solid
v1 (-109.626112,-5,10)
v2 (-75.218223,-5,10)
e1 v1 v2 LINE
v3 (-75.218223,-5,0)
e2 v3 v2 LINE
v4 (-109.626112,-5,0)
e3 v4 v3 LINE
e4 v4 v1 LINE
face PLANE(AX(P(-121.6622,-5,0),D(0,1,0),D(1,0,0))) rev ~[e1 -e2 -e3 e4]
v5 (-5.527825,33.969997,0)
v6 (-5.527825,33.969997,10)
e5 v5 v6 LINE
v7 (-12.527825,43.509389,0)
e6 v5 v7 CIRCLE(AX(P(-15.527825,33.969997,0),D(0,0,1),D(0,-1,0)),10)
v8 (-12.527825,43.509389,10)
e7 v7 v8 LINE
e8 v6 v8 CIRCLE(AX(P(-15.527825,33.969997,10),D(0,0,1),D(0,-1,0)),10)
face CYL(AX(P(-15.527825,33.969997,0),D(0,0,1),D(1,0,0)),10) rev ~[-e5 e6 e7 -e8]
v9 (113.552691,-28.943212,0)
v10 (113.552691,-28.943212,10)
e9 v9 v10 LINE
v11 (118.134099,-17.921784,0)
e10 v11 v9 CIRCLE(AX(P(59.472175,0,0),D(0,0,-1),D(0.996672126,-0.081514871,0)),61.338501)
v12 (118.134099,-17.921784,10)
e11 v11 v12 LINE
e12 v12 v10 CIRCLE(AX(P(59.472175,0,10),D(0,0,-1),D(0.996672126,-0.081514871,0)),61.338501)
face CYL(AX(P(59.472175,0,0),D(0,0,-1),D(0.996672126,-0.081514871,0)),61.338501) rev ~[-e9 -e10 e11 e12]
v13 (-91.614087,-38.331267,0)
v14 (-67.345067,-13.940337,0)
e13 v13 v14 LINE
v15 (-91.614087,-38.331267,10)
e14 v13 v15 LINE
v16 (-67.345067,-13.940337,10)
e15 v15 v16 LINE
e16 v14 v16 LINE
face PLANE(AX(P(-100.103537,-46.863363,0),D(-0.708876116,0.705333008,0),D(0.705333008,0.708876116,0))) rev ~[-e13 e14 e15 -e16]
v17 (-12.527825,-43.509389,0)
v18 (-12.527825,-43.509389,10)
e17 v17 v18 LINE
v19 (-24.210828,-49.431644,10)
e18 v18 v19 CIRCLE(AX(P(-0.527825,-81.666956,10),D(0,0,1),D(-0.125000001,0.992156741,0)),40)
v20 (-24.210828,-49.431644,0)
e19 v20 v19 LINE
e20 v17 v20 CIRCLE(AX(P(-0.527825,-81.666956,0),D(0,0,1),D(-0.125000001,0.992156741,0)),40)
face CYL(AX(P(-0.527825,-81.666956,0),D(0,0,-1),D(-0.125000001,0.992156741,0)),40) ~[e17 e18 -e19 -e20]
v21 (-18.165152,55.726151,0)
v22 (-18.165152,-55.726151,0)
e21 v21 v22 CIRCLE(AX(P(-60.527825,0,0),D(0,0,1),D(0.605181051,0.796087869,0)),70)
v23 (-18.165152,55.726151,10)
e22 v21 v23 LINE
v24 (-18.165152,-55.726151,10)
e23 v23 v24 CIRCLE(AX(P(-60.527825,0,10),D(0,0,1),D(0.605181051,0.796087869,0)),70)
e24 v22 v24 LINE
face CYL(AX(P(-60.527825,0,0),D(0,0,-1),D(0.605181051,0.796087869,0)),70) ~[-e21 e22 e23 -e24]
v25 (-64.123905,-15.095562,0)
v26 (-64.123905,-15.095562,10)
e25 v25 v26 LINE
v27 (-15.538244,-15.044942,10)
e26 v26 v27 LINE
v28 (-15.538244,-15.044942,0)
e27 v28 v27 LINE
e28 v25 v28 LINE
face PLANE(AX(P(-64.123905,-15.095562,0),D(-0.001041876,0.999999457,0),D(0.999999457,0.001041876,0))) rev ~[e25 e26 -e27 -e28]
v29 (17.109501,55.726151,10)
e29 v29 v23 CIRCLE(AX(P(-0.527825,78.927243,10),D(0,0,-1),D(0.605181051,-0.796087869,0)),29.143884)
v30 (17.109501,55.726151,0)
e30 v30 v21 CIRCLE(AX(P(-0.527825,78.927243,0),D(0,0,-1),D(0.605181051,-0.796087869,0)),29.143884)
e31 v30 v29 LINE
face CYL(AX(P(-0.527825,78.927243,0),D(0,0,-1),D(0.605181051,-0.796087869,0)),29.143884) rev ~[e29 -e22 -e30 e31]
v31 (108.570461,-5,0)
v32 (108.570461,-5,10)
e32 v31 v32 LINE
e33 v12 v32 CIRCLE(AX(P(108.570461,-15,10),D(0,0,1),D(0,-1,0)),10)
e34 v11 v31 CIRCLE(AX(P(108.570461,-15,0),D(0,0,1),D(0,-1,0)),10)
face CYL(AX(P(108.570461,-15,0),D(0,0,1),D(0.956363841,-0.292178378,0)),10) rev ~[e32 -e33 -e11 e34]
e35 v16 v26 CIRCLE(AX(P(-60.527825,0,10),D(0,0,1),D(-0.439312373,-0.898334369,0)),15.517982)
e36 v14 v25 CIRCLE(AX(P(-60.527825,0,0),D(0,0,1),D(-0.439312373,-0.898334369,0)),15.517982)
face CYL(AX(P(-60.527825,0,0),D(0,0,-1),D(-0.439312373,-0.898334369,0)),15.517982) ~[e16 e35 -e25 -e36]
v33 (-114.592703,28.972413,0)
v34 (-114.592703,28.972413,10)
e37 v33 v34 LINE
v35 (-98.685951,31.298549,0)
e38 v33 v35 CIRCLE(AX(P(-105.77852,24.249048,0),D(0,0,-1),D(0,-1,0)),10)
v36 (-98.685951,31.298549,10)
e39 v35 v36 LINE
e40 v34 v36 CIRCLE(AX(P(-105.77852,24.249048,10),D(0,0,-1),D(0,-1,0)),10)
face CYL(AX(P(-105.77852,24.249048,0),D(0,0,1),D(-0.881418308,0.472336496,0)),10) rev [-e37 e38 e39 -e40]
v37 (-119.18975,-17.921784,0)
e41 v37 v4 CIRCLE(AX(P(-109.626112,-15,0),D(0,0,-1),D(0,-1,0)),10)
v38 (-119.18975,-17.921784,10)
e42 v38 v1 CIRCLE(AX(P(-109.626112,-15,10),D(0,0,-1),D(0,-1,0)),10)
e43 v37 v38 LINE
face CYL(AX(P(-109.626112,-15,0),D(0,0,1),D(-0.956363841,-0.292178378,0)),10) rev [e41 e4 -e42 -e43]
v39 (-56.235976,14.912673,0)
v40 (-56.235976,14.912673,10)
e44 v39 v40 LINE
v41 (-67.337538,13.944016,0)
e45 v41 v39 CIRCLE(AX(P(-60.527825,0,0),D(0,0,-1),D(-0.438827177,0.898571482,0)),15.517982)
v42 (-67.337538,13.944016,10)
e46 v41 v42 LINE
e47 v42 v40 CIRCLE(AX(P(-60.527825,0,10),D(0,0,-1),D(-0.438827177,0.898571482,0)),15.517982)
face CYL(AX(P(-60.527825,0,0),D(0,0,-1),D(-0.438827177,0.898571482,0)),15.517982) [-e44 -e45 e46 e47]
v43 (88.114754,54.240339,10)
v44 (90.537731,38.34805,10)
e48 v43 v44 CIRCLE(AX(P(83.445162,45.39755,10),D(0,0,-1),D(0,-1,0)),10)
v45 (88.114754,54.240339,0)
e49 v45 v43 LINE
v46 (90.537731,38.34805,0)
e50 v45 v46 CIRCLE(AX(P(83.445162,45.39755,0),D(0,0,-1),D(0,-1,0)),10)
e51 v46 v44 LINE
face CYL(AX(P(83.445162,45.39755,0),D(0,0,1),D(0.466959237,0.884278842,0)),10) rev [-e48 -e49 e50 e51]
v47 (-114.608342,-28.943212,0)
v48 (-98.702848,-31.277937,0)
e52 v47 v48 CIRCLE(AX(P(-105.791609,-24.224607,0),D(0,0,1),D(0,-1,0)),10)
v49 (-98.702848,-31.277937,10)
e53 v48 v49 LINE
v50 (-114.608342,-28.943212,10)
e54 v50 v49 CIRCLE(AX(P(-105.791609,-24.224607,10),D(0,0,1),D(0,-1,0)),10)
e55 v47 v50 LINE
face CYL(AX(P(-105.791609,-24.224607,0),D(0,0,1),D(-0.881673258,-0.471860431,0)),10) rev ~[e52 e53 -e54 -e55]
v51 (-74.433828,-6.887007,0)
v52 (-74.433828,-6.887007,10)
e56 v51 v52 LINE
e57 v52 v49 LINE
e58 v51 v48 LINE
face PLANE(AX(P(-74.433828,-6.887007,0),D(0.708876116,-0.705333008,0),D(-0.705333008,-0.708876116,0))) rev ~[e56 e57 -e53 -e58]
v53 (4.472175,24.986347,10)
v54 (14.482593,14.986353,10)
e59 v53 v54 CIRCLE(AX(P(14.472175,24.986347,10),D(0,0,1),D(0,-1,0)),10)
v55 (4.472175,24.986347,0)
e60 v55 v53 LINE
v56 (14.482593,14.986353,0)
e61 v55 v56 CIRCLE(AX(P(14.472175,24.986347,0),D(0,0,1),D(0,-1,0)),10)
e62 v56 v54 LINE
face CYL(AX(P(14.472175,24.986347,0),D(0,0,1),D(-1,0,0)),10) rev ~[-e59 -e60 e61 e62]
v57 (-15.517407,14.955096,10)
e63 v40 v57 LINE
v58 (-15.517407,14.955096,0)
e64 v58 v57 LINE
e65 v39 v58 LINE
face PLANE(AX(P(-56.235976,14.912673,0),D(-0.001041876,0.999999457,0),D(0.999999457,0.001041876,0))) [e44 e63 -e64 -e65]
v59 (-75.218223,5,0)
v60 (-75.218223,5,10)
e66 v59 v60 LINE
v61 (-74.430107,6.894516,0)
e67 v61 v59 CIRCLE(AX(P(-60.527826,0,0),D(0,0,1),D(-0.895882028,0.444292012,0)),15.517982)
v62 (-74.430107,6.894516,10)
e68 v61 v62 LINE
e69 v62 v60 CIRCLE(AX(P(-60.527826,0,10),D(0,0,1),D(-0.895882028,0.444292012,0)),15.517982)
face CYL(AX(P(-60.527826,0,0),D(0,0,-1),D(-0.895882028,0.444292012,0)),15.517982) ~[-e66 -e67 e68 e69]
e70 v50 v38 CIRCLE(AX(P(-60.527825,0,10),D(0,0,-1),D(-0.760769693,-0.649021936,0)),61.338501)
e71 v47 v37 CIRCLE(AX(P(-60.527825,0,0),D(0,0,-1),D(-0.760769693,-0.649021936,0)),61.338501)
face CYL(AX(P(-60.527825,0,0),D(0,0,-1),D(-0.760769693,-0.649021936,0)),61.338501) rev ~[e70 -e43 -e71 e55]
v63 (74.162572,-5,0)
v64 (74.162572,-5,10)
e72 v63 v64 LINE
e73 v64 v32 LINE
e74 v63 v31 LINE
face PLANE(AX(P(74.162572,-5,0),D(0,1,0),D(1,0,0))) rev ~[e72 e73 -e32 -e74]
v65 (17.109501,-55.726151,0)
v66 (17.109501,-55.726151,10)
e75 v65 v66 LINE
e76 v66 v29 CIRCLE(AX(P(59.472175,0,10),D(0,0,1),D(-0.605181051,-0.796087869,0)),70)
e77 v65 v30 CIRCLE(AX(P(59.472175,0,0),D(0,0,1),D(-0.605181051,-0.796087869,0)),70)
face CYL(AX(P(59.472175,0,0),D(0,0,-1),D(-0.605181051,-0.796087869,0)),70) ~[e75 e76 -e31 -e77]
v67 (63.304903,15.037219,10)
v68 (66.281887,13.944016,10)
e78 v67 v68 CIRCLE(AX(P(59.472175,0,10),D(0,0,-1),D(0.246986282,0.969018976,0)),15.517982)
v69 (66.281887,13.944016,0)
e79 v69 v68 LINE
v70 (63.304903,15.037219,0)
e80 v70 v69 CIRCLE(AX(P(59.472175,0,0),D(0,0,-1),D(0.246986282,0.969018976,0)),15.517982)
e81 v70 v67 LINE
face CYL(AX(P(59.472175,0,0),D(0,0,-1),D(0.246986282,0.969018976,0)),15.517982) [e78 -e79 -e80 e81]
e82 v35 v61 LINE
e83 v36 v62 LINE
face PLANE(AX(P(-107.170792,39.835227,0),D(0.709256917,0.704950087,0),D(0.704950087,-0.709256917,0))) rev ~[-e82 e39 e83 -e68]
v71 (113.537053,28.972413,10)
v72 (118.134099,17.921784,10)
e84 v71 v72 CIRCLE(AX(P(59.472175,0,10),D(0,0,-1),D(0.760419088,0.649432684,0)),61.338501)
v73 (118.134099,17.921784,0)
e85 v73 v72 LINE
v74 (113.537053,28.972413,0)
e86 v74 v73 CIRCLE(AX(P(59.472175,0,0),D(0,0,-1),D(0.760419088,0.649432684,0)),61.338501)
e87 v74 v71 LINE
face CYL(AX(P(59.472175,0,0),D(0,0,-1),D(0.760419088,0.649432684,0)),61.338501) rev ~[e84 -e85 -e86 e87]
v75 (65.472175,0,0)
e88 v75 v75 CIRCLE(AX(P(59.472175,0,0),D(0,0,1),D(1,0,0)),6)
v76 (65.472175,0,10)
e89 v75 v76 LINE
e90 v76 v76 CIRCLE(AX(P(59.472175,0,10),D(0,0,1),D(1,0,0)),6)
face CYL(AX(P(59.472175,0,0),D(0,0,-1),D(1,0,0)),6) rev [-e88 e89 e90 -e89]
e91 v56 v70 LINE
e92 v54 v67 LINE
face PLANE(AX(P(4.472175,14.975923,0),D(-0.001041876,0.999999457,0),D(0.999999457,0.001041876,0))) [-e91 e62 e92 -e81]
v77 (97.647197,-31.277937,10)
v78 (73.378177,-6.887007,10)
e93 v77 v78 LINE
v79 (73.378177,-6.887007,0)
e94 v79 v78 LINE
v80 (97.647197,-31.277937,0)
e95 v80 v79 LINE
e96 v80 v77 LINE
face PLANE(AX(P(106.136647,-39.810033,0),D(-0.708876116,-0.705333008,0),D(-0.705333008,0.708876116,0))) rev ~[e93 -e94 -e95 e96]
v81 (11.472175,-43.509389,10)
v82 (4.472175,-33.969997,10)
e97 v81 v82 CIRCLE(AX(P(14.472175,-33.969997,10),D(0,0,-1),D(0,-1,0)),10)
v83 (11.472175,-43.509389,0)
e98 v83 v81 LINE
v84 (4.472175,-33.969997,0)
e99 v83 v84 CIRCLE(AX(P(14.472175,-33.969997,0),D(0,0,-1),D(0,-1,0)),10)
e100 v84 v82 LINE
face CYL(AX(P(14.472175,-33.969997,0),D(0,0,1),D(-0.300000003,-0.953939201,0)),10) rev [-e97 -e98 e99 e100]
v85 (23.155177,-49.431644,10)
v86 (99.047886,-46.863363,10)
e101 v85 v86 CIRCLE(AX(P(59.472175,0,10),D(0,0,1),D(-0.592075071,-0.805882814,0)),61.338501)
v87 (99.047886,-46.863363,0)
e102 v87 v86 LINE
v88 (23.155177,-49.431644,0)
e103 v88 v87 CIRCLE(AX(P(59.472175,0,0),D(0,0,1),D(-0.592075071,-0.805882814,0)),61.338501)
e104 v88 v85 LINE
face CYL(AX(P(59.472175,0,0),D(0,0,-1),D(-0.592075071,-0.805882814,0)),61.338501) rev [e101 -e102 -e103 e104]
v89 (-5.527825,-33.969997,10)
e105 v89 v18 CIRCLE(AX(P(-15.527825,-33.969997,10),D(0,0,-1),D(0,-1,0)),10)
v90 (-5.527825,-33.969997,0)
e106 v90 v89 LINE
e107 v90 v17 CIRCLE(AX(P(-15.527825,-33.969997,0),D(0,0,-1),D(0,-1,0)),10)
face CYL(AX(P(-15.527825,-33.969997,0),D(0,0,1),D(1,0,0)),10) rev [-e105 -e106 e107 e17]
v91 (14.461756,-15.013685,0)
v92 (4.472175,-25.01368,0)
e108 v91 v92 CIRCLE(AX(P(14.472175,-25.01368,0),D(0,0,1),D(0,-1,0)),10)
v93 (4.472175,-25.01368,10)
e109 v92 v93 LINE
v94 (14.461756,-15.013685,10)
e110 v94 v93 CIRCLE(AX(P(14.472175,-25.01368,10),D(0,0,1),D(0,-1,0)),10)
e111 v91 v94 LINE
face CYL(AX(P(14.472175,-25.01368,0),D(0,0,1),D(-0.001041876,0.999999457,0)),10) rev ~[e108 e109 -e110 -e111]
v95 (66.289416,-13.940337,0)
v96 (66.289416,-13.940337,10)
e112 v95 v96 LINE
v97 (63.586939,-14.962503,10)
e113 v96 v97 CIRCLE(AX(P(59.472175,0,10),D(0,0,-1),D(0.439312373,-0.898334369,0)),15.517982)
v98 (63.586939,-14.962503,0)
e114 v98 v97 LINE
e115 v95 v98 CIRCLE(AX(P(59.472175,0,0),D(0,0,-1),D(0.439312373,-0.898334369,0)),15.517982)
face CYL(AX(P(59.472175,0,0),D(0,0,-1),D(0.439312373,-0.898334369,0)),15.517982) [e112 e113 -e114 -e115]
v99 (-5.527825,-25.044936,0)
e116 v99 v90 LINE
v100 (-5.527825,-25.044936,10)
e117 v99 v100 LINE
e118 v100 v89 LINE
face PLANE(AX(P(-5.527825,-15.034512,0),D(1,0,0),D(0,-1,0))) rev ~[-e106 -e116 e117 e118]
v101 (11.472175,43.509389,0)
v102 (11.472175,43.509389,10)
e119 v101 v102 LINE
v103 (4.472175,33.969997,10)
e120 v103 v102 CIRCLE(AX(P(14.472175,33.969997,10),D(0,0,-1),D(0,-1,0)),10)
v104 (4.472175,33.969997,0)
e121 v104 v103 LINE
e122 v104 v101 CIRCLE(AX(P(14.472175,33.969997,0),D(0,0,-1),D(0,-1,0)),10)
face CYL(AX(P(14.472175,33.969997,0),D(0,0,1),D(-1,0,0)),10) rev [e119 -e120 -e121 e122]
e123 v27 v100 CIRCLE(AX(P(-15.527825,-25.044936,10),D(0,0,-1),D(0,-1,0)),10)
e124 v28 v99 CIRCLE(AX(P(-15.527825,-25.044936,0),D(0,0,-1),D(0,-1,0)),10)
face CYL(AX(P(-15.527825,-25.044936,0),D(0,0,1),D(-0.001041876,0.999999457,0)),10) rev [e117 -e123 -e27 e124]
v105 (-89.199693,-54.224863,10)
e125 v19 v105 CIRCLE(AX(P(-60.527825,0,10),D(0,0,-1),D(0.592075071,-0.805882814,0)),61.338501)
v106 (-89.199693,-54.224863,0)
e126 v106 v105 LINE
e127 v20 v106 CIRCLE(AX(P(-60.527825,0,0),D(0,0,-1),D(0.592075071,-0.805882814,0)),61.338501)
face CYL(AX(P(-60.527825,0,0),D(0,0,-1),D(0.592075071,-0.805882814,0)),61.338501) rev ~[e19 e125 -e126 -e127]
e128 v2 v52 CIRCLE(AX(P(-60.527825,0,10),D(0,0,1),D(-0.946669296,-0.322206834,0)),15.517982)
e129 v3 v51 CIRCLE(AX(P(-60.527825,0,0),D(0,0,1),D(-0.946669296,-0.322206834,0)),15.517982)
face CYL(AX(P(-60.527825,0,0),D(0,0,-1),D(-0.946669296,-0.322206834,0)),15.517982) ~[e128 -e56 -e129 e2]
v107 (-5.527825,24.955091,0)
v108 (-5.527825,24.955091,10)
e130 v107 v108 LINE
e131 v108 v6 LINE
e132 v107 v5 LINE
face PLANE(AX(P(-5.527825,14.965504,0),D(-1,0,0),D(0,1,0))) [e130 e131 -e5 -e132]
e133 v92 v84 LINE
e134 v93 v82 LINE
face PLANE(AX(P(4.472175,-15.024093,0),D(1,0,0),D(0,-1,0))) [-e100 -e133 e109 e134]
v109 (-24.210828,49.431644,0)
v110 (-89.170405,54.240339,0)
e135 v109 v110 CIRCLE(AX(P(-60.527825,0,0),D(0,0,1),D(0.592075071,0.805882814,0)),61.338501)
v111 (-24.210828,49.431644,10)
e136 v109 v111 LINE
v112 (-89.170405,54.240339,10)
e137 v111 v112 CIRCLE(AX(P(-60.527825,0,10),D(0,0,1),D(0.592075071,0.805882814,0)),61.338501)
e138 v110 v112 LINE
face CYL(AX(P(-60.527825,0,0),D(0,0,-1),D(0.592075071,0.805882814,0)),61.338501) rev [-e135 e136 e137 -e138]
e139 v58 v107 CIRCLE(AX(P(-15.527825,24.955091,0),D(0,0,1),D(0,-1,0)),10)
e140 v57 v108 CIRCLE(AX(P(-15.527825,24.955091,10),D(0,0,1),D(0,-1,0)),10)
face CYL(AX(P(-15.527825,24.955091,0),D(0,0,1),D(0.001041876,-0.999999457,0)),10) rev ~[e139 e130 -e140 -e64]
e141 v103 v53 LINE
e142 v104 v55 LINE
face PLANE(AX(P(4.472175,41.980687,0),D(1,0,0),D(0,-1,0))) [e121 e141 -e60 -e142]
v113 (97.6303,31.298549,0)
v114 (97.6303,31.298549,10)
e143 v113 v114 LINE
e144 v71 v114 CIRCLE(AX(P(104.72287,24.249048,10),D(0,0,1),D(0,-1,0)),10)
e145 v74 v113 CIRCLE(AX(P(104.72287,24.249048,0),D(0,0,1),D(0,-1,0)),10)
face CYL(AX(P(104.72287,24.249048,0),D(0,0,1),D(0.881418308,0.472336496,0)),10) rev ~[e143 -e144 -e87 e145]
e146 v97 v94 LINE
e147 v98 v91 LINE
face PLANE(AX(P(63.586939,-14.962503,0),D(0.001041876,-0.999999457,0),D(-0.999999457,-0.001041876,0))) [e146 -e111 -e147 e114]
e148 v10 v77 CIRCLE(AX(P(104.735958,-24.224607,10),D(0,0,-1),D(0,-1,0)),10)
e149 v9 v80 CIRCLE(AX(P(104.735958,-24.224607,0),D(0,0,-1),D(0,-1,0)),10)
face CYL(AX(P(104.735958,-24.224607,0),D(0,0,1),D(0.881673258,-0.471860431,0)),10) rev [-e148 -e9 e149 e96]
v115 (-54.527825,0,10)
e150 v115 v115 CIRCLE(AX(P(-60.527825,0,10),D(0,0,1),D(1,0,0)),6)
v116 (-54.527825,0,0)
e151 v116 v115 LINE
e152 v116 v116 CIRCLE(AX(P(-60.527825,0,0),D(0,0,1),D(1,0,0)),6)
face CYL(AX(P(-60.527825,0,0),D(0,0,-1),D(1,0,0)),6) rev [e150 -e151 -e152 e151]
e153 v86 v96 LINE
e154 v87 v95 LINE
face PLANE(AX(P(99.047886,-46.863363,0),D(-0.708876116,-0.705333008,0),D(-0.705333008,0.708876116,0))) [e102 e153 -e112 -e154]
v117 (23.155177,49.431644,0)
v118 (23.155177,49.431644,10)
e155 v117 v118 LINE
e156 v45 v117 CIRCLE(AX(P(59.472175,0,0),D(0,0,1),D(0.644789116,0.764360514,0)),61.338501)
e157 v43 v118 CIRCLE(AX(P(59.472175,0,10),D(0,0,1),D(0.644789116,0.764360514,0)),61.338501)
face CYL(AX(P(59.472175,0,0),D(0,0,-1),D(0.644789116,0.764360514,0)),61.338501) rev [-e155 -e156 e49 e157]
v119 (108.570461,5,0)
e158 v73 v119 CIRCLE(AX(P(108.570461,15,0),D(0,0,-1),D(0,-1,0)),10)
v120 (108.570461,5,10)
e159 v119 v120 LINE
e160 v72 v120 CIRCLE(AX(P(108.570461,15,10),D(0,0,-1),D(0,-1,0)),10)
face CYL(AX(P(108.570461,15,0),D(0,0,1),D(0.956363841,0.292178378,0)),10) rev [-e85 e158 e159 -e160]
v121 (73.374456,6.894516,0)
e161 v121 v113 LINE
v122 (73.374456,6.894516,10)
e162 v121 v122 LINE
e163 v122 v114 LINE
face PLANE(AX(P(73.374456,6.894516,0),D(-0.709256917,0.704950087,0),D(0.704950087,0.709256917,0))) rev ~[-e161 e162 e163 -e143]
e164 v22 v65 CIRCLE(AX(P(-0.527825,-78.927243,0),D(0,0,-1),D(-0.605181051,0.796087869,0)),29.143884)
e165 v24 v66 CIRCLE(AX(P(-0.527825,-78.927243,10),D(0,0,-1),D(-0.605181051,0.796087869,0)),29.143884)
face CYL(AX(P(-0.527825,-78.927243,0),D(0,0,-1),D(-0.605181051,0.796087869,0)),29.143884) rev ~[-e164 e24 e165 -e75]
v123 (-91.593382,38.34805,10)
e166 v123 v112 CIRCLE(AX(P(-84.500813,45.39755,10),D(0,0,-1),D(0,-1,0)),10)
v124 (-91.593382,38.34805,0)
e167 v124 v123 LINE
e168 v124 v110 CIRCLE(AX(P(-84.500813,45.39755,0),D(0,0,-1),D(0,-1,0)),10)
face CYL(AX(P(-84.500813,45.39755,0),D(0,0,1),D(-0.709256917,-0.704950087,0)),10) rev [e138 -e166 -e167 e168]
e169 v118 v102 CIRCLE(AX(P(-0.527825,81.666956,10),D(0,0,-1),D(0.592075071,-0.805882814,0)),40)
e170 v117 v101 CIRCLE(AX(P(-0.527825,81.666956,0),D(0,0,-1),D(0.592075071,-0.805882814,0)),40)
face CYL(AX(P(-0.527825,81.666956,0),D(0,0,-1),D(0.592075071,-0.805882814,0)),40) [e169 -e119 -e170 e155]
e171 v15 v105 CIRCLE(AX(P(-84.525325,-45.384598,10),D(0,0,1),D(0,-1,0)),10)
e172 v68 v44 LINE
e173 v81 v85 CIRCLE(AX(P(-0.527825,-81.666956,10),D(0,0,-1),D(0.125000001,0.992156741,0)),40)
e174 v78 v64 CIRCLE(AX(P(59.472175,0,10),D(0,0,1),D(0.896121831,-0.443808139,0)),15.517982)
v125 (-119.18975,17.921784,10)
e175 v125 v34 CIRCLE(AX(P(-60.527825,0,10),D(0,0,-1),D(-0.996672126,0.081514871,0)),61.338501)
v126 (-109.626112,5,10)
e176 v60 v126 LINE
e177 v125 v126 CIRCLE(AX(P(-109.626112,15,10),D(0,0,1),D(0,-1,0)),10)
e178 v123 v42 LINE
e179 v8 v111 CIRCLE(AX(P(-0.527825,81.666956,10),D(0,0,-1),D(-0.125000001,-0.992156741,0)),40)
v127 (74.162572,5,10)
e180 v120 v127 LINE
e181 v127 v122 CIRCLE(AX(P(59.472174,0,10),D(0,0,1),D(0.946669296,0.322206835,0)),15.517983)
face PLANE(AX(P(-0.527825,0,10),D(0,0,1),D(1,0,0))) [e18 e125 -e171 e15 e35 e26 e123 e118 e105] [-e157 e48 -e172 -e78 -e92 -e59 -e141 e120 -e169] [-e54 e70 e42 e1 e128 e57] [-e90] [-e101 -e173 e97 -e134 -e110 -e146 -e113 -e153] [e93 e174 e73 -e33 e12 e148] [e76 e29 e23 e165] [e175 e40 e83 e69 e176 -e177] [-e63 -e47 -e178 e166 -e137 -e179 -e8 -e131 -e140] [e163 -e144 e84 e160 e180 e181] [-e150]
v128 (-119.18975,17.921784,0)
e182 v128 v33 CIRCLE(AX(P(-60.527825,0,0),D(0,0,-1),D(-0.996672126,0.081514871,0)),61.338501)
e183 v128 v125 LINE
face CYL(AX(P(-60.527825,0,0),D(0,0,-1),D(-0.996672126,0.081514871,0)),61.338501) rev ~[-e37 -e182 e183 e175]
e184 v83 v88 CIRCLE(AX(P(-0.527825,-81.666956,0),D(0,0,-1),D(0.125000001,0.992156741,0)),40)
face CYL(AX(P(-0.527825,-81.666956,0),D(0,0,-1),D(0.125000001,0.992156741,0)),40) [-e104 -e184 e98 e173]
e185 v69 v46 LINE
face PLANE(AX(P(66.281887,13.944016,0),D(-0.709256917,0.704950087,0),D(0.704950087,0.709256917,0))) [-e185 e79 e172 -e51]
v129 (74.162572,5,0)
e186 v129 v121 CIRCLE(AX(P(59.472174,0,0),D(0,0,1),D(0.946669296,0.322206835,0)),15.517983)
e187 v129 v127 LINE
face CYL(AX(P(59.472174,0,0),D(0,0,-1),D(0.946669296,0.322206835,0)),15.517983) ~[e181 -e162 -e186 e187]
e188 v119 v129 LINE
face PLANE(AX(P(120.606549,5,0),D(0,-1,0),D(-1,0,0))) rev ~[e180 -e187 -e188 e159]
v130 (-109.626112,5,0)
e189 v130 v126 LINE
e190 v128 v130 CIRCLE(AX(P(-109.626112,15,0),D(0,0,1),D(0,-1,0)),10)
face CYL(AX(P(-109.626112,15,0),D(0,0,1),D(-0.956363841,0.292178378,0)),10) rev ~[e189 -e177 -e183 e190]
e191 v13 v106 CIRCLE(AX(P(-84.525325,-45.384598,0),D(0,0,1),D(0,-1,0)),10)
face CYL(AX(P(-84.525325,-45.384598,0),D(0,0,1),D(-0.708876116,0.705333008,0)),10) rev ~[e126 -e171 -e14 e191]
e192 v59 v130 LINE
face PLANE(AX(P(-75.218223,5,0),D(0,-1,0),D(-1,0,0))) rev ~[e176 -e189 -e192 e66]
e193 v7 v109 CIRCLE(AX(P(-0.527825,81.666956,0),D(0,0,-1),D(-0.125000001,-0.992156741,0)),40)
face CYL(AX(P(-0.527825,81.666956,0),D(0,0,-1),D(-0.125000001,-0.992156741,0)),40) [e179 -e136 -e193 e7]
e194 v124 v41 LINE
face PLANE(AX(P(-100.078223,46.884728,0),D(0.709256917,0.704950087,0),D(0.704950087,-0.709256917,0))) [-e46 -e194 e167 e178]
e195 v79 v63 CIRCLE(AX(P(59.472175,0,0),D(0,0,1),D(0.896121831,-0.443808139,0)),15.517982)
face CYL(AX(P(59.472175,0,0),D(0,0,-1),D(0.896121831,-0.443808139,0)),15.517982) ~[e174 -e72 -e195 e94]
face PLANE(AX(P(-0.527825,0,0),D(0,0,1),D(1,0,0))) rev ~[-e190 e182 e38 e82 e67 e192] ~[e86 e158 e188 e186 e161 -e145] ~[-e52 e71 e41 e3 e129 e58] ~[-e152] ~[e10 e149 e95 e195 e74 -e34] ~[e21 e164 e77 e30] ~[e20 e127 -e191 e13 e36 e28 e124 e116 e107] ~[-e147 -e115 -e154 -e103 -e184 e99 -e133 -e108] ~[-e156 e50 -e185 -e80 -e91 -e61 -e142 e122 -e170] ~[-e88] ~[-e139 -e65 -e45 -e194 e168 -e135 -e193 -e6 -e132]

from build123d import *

# Parameters (mm, degrees)
SKETCH1_R           = 6
BOSS_EXTRUDE2_DEPTH = 10
FILLET2_R           = 10


with BuildPart() as part:
    # Sketch1 → Boss-Extrude2 (new body)
    with BuildSketch(Plane.XY):
        with BuildLine():
            ThreePointArc((-18.165151778, 55.726150839), (-130.527825355, 0), (-18.165151778, -55.726150839))
            ThreePointArc((-18.165151778, -55.726150839), (-0.527825355, -49.783359328), (17.109501067, -55.726150839))
            ThreePointArc((17.109501067, -55.726150839), (129.472174645, 0), (17.109501067, 55.726150839))
            ThreePointArc((17.109501067, 55.726150839), (-0.527825355, 49.783359328), (-18.165151778, 55.726150839))
        make_face()
        with Locations((-60.527825355, 0)):
            Circle(SKETCH1_R, mode=Mode.SUBTRACT)
        with Locations((59.472174645, 0)):
            Circle(SKETCH1_R, mode=Mode.SUBTRACT)
        with BuildLine():
            Line((-56.235975609, 14.912672635), (-5.527825355, 14.965504266))
            Line((-5.527825355, 14.965504266), (-5.527825355, 41.980686961))
            ThreePointArc((-5.527825355, 41.980686961), (-15.345309937, 44.512654742), (-24.210827936, 49.431643964))
            ThreePointArc((-24.210827936, 49.431643964), (-62.58583764, 61.303966527), (-100.078223296, 46.884728315))
            Line((-100.078223296, 46.884728315), (-67.337537784, 13.944016494))
            ThreePointArc((-67.337537784, 13.944016494), (-61.876707041, 15.459246345), (-56.235975609, 14.912672635))
        make_face(mode=Mode.SUBTRACT)
        with BuildLine():
            Line((-64.123905218, -15.095561897), (-5.527825355, -15.034512017))
            Line((-5.527825355, -15.034512017), (-5.527825355, -41.980686961))
            ThreePointArc((-5.527825355, -41.980686961), (-15.345309937, -44.512654742), (-24.210827936, -49.431643964))
            ThreePointArc((-24.210827936, -49.431643964), (-62.602390706, -61.303408593), (-100.103536918, -46.863362884))
            Line((-100.103536918, -46.863362884), (-67.345067046, -13.940336979))
            ThreePointArc((-67.345067046, -13.940336979), (-65.766427516, -14.607012931), (-64.123905218, -15.095561897))
        make_face(mode=Mode.SUBTRACT)
        with BuildLine():
            Line((-107.170792468, 39.835227443), (-74.430106955, 6.894515622))
            ThreePointArc((-74.430106955, 6.894515622), (-74.855512615, 5.960298411), (-75.218222877, 5))
            Line((-75.218222877, 5), (-121.6621997, 5))
            ThreePointArc((-121.6621997, 5), (-117.161402857, 23.559491206), (-107.170792468, 39.835227443))
        make_face(mode=Mode.SUBTRACT)
        with BuildLine():
            Line((-121.6621997, -5), (-75.218222877, -5))
            ThreePointArc((-75.218222877, -5), (-74.857121477, -5.956429468), (-74.433828207, -6.887006899))
            Line((-74.433828207, -6.887006899), (-107.192298079, -39.810032805))
            ThreePointArc((-107.192298079, -39.810032805), (-117.167762266, -23.544198292), (-121.6621997, -5))
        make_face(mode=Mode.SUBTRACT)
        with BuildLine():
            Line((4.472174645, 41.980686961), (4.472174645, 14.975923031))
            Line((4.472174645, 14.975923031), (63.304903434, 15.03721947))
            ThreePointArc((63.304903434, 15.03721947), (64.821395332, 14.56686711), (66.281887074, 13.944016494))
            Line((66.281887074, 13.944016494), (99.022572586, 46.884728315))
            ThreePointArc((99.022572586, 46.884728315), (61.530186929, 61.303966527), (23.155177226, 49.431643964))
            ThreePointArc((23.155177226, 49.431643964), (14.289659226, 44.512654742), (4.472174645, 41.980686961))
        make_face(mode=Mode.SUBTRACT)
        with BuildLine():
            Line((99.047886208, -46.863362884), (66.289416336, -13.940336979))
            ThreePointArc((66.289416336, -13.940336979), (64.962019266, -14.514454361), (63.586938832, -14.962502967))
            Line((63.586938832, -14.962502967), (4.472174645, -15.024093252))
            Line((4.472174645, -15.024093252), (4.472174645, -41.980686961))
            ThreePointArc((4.472174645, -41.980686961), (14.289659226, -44.512654742), (23.155177226, -49.431643964))
            ThreePointArc((23.155177226, -49.431643964), (61.546739995, -61.303408593), (99.047886208, -46.863362884))
        make_face(mode=Mode.SUBTRACT)
        with BuildLine():
            Line((106.136647368, -39.810032805), (73.378177497, -6.887006899))
            ThreePointArc((73.378177497, -6.887006899), (73.801470767, -5.956429468), (74.162572167, -5))
            Line((74.162572167, -5), (120.606548989, -5))
            ThreePointArc((120.606548989, -5), (116.112111556, -23.544198292), (106.136647368, -39.810032805))
        make_face(mode=Mode.SUBTRACT)
        with BuildLine():
            Line((120.606548989, 5), (74.162572167, 5))
            ThreePointArc((74.162572167, 5), (73.799861904, 5.960298411), (73.374456245, 6.894515622))
            Line((73.374456245, 6.894515622), (106.115141757, 39.835227443))
            ThreePointArc((106.115141757, 39.835227443), (116.105752147, 23.559491206), (120.606548989, 5))
        make_face(mode=Mode.SUBTRACT)
    extrude(amount=BOSS_EXTRUDE2_DEPTH)

    # Fillet2
    fillet2_edges = [part.edges().sort_by_distance(p)[0] for p in [
        (4.472174645, -15.024093252, 5),
        (4.472174645, -41.980686961, 5),
        (106.136647368, -39.810032805, 5),
        (120.606548989, -5, 5),
        (120.606548989, 5, 5),
        (106.115141757, 39.835227443, 5),
        (-100.103536918, -46.863362884, 5),
        (-5.527825355, -41.980686961, 5),
        (-5.527825355, -15.034512017, 5),
        (-121.6621997, -5, 5),
        (-107.192298079, -39.810032805, 5),
        (-107.170792468, 39.835227443, 5),
        (-121.6621997, 5, 5),
        (-5.527825355, 14.965504266, 5),
        (-5.527825355, 41.980686961, 5),
        (-100.078223296, 46.884728315, 5),
        (99.022572586, 46.884728315, 5),
        (4.472174645, 41.980686961, 5),
        (4.472174645, 14.975923031, 5),
    ]]
    fillet(fillet2_edges, radius=FILLET2_R)


solid = part.part
